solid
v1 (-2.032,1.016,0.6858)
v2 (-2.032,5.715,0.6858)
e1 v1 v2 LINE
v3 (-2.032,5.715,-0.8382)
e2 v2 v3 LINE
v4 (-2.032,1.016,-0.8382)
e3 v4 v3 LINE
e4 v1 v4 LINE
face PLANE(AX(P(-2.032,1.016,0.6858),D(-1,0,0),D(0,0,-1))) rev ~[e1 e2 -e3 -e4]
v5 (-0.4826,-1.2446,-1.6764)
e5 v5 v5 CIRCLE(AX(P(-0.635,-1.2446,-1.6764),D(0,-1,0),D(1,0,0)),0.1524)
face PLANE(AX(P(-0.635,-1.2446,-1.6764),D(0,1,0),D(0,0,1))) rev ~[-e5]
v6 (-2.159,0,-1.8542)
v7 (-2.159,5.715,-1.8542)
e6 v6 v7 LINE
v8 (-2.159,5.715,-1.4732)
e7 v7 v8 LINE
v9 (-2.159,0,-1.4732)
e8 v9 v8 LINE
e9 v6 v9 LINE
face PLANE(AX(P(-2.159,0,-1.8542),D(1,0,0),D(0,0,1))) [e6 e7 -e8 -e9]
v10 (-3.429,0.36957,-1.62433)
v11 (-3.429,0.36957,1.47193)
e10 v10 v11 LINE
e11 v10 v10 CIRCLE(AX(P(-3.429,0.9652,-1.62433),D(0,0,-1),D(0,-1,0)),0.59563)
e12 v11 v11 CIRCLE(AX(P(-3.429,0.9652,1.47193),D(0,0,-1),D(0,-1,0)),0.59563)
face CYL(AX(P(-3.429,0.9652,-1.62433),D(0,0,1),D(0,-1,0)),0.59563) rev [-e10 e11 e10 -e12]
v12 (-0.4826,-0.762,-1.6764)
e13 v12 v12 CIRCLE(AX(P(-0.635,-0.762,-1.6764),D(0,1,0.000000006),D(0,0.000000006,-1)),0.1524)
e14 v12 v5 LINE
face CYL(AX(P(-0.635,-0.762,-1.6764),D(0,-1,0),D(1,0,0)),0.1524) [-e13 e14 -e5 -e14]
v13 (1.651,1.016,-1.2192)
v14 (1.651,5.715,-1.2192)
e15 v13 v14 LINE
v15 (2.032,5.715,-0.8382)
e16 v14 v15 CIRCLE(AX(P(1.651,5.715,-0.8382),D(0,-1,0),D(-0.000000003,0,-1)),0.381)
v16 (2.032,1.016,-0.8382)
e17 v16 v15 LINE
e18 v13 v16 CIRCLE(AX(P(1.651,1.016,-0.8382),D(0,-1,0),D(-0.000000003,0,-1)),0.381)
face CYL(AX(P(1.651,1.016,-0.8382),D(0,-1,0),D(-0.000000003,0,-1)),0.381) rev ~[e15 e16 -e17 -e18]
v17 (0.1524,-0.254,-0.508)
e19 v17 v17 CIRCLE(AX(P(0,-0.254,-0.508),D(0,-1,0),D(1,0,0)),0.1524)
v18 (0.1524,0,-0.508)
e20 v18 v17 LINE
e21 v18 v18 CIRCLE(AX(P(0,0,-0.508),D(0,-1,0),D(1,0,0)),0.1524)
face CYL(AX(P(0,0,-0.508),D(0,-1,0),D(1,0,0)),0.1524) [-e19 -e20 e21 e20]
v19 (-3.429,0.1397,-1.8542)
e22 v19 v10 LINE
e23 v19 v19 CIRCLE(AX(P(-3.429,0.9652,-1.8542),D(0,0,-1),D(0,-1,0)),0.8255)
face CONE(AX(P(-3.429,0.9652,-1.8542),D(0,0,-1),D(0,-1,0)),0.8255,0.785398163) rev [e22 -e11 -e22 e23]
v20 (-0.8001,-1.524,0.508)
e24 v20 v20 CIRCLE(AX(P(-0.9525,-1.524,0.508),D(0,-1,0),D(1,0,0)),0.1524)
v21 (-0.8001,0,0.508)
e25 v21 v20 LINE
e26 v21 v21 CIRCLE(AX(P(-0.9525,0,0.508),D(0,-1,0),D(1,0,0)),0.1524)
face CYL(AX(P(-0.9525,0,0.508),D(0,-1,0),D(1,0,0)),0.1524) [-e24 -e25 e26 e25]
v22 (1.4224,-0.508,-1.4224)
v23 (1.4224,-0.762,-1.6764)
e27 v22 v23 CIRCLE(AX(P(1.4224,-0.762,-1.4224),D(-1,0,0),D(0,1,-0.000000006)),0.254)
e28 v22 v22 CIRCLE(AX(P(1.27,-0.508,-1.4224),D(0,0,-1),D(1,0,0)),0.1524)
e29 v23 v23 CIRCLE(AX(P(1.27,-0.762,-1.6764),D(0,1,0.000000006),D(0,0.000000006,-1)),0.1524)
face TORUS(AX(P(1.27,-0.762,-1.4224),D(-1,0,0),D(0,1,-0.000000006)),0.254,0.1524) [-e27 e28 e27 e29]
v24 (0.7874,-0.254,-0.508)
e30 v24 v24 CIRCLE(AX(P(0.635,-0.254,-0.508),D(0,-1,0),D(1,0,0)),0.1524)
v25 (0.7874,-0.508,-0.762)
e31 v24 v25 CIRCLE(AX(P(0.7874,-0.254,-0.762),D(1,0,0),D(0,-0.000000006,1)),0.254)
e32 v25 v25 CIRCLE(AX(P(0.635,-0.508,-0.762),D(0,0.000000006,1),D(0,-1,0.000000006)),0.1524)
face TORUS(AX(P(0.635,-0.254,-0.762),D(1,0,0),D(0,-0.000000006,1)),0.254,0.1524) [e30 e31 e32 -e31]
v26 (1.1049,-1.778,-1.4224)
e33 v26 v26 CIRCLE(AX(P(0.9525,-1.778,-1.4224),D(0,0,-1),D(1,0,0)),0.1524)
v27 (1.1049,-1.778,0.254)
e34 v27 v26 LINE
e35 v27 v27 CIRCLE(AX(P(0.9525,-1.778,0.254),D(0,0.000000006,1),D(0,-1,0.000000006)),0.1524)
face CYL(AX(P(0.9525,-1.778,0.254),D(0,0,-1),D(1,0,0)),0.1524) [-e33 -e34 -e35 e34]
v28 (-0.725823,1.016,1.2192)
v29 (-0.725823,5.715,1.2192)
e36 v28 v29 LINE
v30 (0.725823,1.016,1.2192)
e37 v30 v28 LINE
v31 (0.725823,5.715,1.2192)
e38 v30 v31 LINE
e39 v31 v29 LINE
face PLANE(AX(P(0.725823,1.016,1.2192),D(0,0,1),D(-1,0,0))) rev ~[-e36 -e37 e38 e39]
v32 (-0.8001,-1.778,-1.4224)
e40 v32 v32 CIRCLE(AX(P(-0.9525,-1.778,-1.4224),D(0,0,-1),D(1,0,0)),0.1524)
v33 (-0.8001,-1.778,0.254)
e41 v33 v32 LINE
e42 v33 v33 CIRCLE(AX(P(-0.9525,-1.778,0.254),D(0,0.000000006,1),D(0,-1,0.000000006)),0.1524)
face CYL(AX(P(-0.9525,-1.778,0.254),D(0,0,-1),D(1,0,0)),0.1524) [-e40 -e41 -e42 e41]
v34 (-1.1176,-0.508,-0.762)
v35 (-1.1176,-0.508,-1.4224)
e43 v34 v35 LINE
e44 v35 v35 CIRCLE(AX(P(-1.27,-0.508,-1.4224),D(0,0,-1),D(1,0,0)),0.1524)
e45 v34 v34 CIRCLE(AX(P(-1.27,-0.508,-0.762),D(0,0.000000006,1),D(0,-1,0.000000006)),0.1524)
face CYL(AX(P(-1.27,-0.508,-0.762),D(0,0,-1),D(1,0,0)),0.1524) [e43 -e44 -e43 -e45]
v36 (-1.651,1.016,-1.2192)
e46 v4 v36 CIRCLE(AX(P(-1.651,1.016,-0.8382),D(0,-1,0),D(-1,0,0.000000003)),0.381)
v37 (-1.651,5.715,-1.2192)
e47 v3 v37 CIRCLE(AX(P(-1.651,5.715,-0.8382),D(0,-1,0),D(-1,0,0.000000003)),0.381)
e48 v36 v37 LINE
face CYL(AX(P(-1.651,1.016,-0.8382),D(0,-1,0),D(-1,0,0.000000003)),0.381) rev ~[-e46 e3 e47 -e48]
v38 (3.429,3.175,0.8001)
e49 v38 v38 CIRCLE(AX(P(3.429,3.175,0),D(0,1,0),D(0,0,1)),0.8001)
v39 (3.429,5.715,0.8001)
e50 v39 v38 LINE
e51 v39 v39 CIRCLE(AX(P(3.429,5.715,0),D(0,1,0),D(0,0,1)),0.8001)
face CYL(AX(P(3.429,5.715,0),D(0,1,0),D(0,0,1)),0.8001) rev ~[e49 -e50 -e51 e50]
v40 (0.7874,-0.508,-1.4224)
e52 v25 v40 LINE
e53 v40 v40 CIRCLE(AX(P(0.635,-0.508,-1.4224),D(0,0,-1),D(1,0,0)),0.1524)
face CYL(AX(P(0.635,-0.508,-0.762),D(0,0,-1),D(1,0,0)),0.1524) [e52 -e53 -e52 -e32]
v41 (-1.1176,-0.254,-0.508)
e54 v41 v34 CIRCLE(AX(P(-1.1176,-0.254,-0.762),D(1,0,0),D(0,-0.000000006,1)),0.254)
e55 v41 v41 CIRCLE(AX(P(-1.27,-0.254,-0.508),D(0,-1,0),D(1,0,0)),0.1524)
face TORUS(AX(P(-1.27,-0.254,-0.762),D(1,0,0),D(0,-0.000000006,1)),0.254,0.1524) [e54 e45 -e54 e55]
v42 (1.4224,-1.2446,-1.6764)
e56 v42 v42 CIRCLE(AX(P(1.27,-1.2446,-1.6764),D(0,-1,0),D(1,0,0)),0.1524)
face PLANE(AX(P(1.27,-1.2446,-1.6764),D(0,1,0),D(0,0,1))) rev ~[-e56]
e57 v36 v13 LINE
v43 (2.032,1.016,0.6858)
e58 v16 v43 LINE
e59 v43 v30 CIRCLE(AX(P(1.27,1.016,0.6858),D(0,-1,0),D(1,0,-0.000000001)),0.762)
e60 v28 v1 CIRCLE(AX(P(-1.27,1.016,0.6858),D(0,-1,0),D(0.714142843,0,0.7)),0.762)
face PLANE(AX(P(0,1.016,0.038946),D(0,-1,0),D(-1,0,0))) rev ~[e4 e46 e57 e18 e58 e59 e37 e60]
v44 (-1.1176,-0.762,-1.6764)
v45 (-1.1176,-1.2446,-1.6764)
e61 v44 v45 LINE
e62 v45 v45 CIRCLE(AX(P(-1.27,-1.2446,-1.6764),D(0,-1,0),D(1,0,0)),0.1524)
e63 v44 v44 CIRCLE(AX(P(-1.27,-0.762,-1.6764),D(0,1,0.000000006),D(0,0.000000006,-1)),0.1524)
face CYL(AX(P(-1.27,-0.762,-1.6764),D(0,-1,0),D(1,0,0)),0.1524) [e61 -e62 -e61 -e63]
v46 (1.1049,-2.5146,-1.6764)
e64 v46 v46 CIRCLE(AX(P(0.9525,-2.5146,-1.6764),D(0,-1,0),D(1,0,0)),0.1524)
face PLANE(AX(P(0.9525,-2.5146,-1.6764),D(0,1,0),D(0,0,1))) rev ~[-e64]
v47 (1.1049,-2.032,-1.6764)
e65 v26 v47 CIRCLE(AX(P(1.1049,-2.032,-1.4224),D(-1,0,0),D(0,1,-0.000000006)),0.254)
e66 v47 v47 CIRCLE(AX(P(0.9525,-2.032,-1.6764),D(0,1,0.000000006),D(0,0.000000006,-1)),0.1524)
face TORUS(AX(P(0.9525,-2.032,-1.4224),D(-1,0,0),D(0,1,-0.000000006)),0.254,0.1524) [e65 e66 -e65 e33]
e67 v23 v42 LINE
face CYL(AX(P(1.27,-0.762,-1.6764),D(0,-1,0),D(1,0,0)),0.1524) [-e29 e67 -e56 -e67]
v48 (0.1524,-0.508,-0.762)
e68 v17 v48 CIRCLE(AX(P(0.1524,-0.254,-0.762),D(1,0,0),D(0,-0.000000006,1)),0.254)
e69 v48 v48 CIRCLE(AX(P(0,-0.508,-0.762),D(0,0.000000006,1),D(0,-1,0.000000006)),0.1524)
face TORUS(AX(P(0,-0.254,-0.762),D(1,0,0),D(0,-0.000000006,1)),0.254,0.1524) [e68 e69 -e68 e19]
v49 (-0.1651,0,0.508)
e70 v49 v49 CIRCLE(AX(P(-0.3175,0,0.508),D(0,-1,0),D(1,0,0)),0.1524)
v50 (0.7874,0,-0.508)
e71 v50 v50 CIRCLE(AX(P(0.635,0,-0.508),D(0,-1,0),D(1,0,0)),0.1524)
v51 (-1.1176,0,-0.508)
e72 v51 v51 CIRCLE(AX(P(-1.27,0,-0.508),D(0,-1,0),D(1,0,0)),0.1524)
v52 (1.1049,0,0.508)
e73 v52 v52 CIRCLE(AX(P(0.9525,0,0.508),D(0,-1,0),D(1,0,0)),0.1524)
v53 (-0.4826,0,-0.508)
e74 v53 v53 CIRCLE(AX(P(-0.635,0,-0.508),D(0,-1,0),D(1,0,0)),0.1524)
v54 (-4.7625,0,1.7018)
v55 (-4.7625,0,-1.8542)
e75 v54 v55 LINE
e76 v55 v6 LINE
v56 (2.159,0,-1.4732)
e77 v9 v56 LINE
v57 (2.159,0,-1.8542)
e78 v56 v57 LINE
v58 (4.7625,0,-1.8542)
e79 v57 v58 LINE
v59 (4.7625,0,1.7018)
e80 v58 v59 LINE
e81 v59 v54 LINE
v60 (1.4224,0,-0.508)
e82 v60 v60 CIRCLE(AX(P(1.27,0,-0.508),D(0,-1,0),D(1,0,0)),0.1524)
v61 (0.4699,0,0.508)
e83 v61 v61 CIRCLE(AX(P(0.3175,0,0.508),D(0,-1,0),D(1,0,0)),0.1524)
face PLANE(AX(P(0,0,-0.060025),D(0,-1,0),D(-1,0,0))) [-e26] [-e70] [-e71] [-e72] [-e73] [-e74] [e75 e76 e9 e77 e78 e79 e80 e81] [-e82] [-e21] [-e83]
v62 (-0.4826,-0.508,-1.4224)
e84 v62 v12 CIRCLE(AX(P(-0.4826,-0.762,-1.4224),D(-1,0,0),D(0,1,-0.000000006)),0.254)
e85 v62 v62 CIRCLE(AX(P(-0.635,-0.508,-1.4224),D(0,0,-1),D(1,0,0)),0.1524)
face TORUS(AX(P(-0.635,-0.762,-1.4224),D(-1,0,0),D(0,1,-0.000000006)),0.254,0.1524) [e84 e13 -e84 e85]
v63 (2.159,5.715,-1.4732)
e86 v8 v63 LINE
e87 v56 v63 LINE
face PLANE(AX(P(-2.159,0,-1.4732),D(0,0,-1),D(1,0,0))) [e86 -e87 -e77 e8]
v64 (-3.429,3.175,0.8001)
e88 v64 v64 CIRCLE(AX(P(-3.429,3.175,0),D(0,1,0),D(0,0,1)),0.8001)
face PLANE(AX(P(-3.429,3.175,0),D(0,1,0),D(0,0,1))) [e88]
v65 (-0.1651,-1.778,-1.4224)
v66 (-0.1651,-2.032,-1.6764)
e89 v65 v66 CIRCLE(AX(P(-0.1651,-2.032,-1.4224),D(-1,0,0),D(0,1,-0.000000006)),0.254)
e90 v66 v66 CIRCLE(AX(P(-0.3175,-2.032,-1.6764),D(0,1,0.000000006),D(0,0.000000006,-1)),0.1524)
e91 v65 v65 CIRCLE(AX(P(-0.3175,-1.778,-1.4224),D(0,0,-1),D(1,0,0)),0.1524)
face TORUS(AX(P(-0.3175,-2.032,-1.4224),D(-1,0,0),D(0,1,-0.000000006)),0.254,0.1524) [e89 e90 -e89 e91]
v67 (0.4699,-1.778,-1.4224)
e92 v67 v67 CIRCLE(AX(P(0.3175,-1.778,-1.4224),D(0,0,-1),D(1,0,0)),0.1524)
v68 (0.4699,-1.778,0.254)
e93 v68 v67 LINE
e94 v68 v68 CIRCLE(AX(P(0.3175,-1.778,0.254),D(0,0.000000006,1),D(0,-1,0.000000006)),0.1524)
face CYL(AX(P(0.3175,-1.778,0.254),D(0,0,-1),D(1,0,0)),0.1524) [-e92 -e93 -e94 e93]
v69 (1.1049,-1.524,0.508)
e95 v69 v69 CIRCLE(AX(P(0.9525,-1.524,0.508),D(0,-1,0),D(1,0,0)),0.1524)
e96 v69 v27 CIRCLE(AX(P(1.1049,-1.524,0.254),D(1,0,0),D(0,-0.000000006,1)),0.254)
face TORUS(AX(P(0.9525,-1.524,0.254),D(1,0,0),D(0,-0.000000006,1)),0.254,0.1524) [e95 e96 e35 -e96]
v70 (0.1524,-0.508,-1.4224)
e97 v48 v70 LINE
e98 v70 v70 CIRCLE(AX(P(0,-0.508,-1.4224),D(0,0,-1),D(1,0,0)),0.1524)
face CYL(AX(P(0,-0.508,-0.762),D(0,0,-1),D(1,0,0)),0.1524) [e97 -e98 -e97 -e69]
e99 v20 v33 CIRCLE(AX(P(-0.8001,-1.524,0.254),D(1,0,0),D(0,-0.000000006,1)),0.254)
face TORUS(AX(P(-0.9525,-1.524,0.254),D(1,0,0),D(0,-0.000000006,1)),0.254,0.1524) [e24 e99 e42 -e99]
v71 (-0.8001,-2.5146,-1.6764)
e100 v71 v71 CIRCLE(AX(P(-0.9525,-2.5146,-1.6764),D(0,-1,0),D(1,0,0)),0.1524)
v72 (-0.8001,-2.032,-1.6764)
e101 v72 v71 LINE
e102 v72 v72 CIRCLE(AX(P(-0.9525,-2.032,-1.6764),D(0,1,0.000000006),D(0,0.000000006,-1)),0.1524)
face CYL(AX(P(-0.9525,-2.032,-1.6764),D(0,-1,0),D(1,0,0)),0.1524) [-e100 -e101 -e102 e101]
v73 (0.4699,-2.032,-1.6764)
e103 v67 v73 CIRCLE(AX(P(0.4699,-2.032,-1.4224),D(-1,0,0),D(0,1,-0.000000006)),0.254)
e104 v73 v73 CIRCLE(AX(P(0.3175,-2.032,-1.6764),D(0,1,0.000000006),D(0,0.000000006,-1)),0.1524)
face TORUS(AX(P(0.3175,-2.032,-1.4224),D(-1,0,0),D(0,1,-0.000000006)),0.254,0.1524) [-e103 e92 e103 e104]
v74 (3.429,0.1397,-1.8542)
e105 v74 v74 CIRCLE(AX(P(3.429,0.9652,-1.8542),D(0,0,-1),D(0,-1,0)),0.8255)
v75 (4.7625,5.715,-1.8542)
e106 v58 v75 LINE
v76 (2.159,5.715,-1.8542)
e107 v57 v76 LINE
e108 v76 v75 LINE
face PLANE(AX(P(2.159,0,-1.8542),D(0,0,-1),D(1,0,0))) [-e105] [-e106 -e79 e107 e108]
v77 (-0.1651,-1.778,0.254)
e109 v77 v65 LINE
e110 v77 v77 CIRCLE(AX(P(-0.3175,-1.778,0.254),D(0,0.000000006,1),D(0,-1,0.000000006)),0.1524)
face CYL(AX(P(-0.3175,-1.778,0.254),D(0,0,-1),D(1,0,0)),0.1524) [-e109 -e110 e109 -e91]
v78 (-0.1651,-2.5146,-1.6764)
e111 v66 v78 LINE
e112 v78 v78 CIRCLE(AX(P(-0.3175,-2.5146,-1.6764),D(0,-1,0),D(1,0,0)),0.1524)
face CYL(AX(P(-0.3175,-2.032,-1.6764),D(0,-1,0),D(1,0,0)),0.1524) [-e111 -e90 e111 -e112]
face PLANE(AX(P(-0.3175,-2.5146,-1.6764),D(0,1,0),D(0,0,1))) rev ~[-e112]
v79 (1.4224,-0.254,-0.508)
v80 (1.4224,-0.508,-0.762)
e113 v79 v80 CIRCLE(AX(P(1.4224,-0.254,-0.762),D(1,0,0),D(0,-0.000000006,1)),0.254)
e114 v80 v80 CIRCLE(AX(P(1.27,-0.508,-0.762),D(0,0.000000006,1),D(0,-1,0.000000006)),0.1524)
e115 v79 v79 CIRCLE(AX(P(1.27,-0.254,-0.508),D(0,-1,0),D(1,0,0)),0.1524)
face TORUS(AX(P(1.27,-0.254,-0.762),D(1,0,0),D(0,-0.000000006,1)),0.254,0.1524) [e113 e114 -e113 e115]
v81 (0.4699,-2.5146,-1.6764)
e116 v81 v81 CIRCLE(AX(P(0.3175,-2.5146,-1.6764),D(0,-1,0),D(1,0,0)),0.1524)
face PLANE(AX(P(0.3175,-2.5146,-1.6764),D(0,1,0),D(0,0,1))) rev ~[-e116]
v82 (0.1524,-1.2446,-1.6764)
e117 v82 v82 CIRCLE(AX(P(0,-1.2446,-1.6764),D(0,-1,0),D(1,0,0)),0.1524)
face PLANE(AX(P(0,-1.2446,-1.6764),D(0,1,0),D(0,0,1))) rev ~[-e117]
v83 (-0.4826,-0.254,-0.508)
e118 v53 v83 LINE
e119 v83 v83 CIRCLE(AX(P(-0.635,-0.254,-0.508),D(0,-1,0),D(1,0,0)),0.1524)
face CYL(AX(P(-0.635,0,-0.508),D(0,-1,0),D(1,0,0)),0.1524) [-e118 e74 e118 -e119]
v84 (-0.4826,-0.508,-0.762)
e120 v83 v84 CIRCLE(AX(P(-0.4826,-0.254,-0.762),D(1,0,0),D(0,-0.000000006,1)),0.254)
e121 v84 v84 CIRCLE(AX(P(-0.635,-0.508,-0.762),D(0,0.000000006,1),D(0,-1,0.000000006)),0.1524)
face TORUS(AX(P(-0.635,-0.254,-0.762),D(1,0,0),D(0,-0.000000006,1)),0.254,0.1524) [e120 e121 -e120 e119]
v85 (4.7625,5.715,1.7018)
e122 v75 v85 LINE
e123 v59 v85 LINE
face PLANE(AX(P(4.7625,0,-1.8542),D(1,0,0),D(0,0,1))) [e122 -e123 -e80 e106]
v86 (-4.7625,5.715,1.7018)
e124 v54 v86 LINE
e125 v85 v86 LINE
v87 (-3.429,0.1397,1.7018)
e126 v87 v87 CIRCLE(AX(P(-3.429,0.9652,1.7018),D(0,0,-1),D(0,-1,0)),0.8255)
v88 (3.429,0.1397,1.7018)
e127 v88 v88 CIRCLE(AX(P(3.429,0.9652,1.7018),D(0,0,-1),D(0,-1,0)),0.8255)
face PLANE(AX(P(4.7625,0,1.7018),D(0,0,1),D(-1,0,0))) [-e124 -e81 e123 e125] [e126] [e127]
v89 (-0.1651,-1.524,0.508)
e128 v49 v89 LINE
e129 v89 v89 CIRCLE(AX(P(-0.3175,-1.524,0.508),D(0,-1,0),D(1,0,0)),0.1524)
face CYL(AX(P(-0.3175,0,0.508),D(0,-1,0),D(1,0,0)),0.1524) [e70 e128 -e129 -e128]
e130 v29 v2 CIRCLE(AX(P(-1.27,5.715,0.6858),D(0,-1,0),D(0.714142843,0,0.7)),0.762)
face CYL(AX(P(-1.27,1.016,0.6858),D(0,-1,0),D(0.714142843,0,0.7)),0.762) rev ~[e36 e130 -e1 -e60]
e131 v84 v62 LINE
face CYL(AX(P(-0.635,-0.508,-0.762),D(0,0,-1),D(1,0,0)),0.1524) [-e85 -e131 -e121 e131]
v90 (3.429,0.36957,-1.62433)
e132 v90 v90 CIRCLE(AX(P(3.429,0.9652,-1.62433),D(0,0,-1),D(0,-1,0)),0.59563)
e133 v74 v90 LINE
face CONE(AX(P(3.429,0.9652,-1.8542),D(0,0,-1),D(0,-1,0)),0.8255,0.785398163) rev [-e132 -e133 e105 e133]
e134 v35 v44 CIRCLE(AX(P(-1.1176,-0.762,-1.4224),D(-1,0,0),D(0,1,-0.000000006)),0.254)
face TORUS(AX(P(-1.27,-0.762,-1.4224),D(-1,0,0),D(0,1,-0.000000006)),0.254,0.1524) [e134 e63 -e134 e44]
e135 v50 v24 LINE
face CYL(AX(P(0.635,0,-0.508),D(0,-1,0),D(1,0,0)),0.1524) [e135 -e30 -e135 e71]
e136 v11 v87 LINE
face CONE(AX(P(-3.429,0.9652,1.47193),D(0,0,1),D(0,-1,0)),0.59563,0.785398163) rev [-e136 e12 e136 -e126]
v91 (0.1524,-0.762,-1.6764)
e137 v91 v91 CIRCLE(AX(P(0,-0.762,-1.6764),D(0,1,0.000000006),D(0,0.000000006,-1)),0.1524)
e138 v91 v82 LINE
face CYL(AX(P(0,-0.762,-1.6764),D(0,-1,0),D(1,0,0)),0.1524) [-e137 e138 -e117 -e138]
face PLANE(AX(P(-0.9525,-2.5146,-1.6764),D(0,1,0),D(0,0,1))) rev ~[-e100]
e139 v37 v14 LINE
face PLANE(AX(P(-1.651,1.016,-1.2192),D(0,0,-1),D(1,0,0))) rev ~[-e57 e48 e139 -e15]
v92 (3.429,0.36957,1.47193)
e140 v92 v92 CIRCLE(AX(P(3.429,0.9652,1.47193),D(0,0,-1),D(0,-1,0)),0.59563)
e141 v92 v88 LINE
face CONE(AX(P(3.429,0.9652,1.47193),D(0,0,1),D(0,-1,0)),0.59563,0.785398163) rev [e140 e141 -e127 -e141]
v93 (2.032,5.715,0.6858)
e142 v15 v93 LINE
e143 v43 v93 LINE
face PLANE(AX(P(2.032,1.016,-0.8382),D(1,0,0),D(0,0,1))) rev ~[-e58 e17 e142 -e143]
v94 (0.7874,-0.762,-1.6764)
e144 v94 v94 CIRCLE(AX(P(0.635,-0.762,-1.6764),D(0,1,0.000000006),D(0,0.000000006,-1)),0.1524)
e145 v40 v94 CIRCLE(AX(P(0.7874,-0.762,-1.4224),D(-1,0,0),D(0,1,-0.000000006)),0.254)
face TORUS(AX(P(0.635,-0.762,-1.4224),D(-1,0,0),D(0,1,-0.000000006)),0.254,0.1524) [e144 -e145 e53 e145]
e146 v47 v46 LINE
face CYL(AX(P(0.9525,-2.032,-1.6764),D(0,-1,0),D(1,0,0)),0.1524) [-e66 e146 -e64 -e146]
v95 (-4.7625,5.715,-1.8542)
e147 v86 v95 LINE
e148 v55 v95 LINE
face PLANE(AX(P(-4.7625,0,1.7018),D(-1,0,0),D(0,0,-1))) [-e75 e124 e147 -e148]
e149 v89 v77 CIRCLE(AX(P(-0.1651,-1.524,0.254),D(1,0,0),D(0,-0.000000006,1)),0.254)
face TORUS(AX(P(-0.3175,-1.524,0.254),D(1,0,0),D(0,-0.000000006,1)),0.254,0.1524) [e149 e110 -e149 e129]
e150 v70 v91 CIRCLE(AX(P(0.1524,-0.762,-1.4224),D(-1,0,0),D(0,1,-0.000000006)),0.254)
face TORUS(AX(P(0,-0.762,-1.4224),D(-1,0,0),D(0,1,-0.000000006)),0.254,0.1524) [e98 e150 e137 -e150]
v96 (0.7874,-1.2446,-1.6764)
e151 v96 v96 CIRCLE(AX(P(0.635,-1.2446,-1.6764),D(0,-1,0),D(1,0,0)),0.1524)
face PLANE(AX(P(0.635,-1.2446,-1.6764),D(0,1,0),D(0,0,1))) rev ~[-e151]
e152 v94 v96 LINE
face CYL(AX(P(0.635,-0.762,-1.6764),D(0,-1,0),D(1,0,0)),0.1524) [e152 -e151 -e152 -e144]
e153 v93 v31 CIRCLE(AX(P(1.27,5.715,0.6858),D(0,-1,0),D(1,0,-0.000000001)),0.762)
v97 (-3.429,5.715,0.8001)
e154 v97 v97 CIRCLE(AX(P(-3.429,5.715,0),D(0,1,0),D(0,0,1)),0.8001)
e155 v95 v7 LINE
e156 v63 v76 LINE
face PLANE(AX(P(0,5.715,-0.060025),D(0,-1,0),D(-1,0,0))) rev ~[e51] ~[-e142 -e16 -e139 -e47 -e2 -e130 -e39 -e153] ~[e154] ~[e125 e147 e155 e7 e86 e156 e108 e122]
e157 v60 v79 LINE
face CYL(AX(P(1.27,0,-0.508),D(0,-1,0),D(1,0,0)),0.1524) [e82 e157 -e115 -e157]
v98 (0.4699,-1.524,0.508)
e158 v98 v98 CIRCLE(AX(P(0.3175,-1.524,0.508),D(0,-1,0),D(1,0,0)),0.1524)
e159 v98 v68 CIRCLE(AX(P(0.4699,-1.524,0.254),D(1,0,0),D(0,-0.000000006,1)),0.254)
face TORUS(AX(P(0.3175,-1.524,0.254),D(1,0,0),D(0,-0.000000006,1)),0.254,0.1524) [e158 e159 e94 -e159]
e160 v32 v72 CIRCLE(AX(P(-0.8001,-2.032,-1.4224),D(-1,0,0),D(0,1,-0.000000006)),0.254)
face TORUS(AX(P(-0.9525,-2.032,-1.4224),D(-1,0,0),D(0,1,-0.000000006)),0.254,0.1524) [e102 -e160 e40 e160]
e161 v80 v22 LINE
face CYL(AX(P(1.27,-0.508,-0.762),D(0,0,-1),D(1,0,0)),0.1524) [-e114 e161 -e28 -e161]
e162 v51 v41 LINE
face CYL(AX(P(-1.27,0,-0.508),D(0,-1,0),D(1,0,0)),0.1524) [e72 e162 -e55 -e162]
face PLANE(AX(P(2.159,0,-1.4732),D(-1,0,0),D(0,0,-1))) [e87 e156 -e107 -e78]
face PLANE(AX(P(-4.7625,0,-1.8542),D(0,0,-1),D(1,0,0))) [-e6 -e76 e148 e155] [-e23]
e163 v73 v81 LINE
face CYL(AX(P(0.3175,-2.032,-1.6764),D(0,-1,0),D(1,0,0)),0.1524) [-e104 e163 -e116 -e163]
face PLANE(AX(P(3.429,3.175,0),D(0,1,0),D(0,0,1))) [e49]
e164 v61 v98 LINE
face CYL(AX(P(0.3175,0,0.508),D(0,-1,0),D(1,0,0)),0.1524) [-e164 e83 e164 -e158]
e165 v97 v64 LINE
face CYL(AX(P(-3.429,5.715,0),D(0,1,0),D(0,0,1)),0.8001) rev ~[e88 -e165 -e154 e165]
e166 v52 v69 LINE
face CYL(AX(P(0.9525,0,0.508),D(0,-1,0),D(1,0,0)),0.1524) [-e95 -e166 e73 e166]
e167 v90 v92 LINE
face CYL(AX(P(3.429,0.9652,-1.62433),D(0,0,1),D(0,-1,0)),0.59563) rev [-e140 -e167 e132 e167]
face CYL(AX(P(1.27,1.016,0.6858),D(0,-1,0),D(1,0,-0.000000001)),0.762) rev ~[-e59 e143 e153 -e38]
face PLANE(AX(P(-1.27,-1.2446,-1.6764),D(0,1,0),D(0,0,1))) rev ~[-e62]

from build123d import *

# Parameters (mm, degrees)
BOSS_EXTRUDE2_DEPTH            = 5.715
CUT_EXTRUDE1_START             = 1.016
CUT_EXTRUDE1_DEPTH             = 7.650856519
SKETCH4_R                      = 0.1524
SKETCH8_R                      = 0.8001
CUT_EXTRUDE2_DEPTH             = 2.54
F_0_80_TAPPED_HOLE1_AT_2_COUNT = 2
F_0_80_TAPPED_HOLE1_AT_2_PITCH = 6.858
SKETCH12_R                     = 0.1524


with BuildPart() as part:
    # Sketch2 → Boss-Extrude2 (new body)
    with BuildSketch(Plane(origin=(0, 0, 0), x_dir=(1, 0, 0), z_dir=(0, 1, 0))):
        Polygon((-2.159, 1.8542), (-2.159, 1.4732), (2.159, 1.4732), (2.159, 1.8542), (4.7625, 1.8542), (4.7625, -1.7018), (-4.7625, -1.7018), (-4.7625, 1.8542), align=None)
    extrude(amount=BOSS_EXTRUDE2_DEPTH)

    # Sketch7 → Cut-Extrude1 (cut, through all)
    with BuildSketch(Plane(origin=(0, 0, 0), x_dir=(1, 0, 0), z_dir=(0, 1, 0)).offset(CUT_EXTRUDE1_START)):
        with BuildLine():
            Line((-1.651, 1.2192), (1.651, 1.2192))
            ThreePointArc((1.651, 1.2192), (1.920407684, 1.107607684), (2.032, 0.8382))
            Line((2.032, 0.8382), (2.032, -0.6858))
            ThreePointArc((2.032, -0.6858), (1.558080929, -1.391245518), (0.725823154, -1.2192))
            Line((0.725823154, -1.2192), (-0.725823154, -1.2192))
            ThreePointArc((-0.725823154, -1.2192), (-1.558080929, -1.391245518), (-2.032, -0.6858))
            Line((-2.032, -0.6858), (-2.032, 0.8382))
            ThreePointArc((-2.032, 0.8382), (-1.920407684, 1.107607684), (-1.651, 1.2192))
        make_face()
    extrude(amount=CUT_EXTRUDE1_DEPTH, mode=Mode.SUBTRACT)

    # Sweep1: sweep along a path in Sketch3
    with BuildLine(Plane(origin=(0, 0, 0), x_dir=(0, 0, -1), z_dir=(1, 0, 0))) as sweep1_path:
        Line((0.508, 0), (0.508, -0.254))
        ThreePointArc((0.508, -0.254), (0.582394878, -0.433605122), (0.762, -0.508))
        Line((0.762, -0.508), (1.4224, -0.508))
        ThreePointArc((1.4224, -0.508), (1.602005122, -0.582394878), (1.6764, -0.762))
        Line((1.6764, -0.762), (1.6764, -1.2446))
    # Sketch4 → Sweep1 (sweep)
    with BuildSketch(Plane(origin=(0, 0, 0), x_dir=(1, 0, 0), z_dir=(0, 1, 0))):
        with Locations((1.27, 0.508)):
            Circle(SKETCH4_R)
        with Locations((0.635, 0.508)):
            Circle(SKETCH4_R)
        with Locations((0, 0.508)):
            Circle(SKETCH4_R)
        with Locations((-0.635, 0.508)):
            Circle(SKETCH4_R)
        with Locations((-1.27, 0.508)):
            Circle(SKETCH4_R)
    sweep(path=sweep1_path.line)

    # Sketch8 → Cut-Extrude2 (cut)
    with BuildSketch(Plane(origin=(0, 5.715, 0), x_dir=(1, 0, 0), z_dir=(0, 1, 0))):
        with Locations(Location((3.429, 0, 0), (0, 0, 270))):
            Circle(SKETCH8_R)
        with Locations(Location((-3.429, 0, 0), (0, 0, 270))):
            Circle(SKETCH8_R)
    extrude(amount=-CUT_EXTRUDE2_DEPTH, mode=Mode.SUBTRACT)

    # Sketch10 → #0-80 Tapped Hole1 (revolve, cut)
    with BuildSketch(Plane(origin=(3.429, 0.9652, 1.7018), x_dir=(0, -1, 0), z_dir=(1, 0, 0))):
        Polygon((0, 0), (0, 3.556), (0.8255, 3.556), (0.59563, 3.32613), (0.59563, 0.22987), (0.8255, 0), align=None)
    f_0_80_tapped_hole1 = revolve(axis=Axis((3.429, 0.9652, 8.0518), (0, 0, -1)), mode=Mode.SUBTRACT)

    # #0-80 Tapped Hole1 at 2: #0-80 Tapped Hole1 ×2
    with Locations(*[(-i * F_0_80_TAPPED_HOLE1_AT_2_PITCH, 0, 0) for i in range(1, F_0_80_TAPPED_HOLE1_AT_2_COUNT)]):
        add(f_0_80_tapped_hole1, mode=Mode.SUBTRACT)

    # Sweep2: sweep along a path in Sketch13
    with BuildLine(Plane(origin=(0, 0, 0), x_dir=(0, 0, -1), z_dir=(1, 0, 0))) as sweep2_path:
        Line((-0.508, 0), (-0.508, -1.524))
        ThreePointArc((-0.508, -1.524), (-0.433605122, -1.703605122), (-0.254, -1.778))
        Line((-0.254, -1.778), (1.4224, -1.778))
        ThreePointArc((1.4224, -1.778), (1.602005122, -1.852394878), (1.6764, -2.032))
        Line((1.6764, -2.032), (1.6764, -2.5146))
    # Sketch12 → Sweep2 (sweep)
    with BuildSketch(Plane(origin=(0, 0, 0), x_dir=(1, 0, 0), z_dir=(0, 1, 0))):
        with Locations((0.9525, -0.508)):
            Circle(SKETCH12_R)
        with Locations((0.3175, -0.508)):
            Circle(SKETCH12_R)
        with Locations((-0.3175, -0.508)):
            Circle(SKETCH12_R)
        with Locations((-0.9525, -0.508)):
            Circle(SKETCH12_R)
    sweep(path=sweep2_path.line)


solid = part.part
